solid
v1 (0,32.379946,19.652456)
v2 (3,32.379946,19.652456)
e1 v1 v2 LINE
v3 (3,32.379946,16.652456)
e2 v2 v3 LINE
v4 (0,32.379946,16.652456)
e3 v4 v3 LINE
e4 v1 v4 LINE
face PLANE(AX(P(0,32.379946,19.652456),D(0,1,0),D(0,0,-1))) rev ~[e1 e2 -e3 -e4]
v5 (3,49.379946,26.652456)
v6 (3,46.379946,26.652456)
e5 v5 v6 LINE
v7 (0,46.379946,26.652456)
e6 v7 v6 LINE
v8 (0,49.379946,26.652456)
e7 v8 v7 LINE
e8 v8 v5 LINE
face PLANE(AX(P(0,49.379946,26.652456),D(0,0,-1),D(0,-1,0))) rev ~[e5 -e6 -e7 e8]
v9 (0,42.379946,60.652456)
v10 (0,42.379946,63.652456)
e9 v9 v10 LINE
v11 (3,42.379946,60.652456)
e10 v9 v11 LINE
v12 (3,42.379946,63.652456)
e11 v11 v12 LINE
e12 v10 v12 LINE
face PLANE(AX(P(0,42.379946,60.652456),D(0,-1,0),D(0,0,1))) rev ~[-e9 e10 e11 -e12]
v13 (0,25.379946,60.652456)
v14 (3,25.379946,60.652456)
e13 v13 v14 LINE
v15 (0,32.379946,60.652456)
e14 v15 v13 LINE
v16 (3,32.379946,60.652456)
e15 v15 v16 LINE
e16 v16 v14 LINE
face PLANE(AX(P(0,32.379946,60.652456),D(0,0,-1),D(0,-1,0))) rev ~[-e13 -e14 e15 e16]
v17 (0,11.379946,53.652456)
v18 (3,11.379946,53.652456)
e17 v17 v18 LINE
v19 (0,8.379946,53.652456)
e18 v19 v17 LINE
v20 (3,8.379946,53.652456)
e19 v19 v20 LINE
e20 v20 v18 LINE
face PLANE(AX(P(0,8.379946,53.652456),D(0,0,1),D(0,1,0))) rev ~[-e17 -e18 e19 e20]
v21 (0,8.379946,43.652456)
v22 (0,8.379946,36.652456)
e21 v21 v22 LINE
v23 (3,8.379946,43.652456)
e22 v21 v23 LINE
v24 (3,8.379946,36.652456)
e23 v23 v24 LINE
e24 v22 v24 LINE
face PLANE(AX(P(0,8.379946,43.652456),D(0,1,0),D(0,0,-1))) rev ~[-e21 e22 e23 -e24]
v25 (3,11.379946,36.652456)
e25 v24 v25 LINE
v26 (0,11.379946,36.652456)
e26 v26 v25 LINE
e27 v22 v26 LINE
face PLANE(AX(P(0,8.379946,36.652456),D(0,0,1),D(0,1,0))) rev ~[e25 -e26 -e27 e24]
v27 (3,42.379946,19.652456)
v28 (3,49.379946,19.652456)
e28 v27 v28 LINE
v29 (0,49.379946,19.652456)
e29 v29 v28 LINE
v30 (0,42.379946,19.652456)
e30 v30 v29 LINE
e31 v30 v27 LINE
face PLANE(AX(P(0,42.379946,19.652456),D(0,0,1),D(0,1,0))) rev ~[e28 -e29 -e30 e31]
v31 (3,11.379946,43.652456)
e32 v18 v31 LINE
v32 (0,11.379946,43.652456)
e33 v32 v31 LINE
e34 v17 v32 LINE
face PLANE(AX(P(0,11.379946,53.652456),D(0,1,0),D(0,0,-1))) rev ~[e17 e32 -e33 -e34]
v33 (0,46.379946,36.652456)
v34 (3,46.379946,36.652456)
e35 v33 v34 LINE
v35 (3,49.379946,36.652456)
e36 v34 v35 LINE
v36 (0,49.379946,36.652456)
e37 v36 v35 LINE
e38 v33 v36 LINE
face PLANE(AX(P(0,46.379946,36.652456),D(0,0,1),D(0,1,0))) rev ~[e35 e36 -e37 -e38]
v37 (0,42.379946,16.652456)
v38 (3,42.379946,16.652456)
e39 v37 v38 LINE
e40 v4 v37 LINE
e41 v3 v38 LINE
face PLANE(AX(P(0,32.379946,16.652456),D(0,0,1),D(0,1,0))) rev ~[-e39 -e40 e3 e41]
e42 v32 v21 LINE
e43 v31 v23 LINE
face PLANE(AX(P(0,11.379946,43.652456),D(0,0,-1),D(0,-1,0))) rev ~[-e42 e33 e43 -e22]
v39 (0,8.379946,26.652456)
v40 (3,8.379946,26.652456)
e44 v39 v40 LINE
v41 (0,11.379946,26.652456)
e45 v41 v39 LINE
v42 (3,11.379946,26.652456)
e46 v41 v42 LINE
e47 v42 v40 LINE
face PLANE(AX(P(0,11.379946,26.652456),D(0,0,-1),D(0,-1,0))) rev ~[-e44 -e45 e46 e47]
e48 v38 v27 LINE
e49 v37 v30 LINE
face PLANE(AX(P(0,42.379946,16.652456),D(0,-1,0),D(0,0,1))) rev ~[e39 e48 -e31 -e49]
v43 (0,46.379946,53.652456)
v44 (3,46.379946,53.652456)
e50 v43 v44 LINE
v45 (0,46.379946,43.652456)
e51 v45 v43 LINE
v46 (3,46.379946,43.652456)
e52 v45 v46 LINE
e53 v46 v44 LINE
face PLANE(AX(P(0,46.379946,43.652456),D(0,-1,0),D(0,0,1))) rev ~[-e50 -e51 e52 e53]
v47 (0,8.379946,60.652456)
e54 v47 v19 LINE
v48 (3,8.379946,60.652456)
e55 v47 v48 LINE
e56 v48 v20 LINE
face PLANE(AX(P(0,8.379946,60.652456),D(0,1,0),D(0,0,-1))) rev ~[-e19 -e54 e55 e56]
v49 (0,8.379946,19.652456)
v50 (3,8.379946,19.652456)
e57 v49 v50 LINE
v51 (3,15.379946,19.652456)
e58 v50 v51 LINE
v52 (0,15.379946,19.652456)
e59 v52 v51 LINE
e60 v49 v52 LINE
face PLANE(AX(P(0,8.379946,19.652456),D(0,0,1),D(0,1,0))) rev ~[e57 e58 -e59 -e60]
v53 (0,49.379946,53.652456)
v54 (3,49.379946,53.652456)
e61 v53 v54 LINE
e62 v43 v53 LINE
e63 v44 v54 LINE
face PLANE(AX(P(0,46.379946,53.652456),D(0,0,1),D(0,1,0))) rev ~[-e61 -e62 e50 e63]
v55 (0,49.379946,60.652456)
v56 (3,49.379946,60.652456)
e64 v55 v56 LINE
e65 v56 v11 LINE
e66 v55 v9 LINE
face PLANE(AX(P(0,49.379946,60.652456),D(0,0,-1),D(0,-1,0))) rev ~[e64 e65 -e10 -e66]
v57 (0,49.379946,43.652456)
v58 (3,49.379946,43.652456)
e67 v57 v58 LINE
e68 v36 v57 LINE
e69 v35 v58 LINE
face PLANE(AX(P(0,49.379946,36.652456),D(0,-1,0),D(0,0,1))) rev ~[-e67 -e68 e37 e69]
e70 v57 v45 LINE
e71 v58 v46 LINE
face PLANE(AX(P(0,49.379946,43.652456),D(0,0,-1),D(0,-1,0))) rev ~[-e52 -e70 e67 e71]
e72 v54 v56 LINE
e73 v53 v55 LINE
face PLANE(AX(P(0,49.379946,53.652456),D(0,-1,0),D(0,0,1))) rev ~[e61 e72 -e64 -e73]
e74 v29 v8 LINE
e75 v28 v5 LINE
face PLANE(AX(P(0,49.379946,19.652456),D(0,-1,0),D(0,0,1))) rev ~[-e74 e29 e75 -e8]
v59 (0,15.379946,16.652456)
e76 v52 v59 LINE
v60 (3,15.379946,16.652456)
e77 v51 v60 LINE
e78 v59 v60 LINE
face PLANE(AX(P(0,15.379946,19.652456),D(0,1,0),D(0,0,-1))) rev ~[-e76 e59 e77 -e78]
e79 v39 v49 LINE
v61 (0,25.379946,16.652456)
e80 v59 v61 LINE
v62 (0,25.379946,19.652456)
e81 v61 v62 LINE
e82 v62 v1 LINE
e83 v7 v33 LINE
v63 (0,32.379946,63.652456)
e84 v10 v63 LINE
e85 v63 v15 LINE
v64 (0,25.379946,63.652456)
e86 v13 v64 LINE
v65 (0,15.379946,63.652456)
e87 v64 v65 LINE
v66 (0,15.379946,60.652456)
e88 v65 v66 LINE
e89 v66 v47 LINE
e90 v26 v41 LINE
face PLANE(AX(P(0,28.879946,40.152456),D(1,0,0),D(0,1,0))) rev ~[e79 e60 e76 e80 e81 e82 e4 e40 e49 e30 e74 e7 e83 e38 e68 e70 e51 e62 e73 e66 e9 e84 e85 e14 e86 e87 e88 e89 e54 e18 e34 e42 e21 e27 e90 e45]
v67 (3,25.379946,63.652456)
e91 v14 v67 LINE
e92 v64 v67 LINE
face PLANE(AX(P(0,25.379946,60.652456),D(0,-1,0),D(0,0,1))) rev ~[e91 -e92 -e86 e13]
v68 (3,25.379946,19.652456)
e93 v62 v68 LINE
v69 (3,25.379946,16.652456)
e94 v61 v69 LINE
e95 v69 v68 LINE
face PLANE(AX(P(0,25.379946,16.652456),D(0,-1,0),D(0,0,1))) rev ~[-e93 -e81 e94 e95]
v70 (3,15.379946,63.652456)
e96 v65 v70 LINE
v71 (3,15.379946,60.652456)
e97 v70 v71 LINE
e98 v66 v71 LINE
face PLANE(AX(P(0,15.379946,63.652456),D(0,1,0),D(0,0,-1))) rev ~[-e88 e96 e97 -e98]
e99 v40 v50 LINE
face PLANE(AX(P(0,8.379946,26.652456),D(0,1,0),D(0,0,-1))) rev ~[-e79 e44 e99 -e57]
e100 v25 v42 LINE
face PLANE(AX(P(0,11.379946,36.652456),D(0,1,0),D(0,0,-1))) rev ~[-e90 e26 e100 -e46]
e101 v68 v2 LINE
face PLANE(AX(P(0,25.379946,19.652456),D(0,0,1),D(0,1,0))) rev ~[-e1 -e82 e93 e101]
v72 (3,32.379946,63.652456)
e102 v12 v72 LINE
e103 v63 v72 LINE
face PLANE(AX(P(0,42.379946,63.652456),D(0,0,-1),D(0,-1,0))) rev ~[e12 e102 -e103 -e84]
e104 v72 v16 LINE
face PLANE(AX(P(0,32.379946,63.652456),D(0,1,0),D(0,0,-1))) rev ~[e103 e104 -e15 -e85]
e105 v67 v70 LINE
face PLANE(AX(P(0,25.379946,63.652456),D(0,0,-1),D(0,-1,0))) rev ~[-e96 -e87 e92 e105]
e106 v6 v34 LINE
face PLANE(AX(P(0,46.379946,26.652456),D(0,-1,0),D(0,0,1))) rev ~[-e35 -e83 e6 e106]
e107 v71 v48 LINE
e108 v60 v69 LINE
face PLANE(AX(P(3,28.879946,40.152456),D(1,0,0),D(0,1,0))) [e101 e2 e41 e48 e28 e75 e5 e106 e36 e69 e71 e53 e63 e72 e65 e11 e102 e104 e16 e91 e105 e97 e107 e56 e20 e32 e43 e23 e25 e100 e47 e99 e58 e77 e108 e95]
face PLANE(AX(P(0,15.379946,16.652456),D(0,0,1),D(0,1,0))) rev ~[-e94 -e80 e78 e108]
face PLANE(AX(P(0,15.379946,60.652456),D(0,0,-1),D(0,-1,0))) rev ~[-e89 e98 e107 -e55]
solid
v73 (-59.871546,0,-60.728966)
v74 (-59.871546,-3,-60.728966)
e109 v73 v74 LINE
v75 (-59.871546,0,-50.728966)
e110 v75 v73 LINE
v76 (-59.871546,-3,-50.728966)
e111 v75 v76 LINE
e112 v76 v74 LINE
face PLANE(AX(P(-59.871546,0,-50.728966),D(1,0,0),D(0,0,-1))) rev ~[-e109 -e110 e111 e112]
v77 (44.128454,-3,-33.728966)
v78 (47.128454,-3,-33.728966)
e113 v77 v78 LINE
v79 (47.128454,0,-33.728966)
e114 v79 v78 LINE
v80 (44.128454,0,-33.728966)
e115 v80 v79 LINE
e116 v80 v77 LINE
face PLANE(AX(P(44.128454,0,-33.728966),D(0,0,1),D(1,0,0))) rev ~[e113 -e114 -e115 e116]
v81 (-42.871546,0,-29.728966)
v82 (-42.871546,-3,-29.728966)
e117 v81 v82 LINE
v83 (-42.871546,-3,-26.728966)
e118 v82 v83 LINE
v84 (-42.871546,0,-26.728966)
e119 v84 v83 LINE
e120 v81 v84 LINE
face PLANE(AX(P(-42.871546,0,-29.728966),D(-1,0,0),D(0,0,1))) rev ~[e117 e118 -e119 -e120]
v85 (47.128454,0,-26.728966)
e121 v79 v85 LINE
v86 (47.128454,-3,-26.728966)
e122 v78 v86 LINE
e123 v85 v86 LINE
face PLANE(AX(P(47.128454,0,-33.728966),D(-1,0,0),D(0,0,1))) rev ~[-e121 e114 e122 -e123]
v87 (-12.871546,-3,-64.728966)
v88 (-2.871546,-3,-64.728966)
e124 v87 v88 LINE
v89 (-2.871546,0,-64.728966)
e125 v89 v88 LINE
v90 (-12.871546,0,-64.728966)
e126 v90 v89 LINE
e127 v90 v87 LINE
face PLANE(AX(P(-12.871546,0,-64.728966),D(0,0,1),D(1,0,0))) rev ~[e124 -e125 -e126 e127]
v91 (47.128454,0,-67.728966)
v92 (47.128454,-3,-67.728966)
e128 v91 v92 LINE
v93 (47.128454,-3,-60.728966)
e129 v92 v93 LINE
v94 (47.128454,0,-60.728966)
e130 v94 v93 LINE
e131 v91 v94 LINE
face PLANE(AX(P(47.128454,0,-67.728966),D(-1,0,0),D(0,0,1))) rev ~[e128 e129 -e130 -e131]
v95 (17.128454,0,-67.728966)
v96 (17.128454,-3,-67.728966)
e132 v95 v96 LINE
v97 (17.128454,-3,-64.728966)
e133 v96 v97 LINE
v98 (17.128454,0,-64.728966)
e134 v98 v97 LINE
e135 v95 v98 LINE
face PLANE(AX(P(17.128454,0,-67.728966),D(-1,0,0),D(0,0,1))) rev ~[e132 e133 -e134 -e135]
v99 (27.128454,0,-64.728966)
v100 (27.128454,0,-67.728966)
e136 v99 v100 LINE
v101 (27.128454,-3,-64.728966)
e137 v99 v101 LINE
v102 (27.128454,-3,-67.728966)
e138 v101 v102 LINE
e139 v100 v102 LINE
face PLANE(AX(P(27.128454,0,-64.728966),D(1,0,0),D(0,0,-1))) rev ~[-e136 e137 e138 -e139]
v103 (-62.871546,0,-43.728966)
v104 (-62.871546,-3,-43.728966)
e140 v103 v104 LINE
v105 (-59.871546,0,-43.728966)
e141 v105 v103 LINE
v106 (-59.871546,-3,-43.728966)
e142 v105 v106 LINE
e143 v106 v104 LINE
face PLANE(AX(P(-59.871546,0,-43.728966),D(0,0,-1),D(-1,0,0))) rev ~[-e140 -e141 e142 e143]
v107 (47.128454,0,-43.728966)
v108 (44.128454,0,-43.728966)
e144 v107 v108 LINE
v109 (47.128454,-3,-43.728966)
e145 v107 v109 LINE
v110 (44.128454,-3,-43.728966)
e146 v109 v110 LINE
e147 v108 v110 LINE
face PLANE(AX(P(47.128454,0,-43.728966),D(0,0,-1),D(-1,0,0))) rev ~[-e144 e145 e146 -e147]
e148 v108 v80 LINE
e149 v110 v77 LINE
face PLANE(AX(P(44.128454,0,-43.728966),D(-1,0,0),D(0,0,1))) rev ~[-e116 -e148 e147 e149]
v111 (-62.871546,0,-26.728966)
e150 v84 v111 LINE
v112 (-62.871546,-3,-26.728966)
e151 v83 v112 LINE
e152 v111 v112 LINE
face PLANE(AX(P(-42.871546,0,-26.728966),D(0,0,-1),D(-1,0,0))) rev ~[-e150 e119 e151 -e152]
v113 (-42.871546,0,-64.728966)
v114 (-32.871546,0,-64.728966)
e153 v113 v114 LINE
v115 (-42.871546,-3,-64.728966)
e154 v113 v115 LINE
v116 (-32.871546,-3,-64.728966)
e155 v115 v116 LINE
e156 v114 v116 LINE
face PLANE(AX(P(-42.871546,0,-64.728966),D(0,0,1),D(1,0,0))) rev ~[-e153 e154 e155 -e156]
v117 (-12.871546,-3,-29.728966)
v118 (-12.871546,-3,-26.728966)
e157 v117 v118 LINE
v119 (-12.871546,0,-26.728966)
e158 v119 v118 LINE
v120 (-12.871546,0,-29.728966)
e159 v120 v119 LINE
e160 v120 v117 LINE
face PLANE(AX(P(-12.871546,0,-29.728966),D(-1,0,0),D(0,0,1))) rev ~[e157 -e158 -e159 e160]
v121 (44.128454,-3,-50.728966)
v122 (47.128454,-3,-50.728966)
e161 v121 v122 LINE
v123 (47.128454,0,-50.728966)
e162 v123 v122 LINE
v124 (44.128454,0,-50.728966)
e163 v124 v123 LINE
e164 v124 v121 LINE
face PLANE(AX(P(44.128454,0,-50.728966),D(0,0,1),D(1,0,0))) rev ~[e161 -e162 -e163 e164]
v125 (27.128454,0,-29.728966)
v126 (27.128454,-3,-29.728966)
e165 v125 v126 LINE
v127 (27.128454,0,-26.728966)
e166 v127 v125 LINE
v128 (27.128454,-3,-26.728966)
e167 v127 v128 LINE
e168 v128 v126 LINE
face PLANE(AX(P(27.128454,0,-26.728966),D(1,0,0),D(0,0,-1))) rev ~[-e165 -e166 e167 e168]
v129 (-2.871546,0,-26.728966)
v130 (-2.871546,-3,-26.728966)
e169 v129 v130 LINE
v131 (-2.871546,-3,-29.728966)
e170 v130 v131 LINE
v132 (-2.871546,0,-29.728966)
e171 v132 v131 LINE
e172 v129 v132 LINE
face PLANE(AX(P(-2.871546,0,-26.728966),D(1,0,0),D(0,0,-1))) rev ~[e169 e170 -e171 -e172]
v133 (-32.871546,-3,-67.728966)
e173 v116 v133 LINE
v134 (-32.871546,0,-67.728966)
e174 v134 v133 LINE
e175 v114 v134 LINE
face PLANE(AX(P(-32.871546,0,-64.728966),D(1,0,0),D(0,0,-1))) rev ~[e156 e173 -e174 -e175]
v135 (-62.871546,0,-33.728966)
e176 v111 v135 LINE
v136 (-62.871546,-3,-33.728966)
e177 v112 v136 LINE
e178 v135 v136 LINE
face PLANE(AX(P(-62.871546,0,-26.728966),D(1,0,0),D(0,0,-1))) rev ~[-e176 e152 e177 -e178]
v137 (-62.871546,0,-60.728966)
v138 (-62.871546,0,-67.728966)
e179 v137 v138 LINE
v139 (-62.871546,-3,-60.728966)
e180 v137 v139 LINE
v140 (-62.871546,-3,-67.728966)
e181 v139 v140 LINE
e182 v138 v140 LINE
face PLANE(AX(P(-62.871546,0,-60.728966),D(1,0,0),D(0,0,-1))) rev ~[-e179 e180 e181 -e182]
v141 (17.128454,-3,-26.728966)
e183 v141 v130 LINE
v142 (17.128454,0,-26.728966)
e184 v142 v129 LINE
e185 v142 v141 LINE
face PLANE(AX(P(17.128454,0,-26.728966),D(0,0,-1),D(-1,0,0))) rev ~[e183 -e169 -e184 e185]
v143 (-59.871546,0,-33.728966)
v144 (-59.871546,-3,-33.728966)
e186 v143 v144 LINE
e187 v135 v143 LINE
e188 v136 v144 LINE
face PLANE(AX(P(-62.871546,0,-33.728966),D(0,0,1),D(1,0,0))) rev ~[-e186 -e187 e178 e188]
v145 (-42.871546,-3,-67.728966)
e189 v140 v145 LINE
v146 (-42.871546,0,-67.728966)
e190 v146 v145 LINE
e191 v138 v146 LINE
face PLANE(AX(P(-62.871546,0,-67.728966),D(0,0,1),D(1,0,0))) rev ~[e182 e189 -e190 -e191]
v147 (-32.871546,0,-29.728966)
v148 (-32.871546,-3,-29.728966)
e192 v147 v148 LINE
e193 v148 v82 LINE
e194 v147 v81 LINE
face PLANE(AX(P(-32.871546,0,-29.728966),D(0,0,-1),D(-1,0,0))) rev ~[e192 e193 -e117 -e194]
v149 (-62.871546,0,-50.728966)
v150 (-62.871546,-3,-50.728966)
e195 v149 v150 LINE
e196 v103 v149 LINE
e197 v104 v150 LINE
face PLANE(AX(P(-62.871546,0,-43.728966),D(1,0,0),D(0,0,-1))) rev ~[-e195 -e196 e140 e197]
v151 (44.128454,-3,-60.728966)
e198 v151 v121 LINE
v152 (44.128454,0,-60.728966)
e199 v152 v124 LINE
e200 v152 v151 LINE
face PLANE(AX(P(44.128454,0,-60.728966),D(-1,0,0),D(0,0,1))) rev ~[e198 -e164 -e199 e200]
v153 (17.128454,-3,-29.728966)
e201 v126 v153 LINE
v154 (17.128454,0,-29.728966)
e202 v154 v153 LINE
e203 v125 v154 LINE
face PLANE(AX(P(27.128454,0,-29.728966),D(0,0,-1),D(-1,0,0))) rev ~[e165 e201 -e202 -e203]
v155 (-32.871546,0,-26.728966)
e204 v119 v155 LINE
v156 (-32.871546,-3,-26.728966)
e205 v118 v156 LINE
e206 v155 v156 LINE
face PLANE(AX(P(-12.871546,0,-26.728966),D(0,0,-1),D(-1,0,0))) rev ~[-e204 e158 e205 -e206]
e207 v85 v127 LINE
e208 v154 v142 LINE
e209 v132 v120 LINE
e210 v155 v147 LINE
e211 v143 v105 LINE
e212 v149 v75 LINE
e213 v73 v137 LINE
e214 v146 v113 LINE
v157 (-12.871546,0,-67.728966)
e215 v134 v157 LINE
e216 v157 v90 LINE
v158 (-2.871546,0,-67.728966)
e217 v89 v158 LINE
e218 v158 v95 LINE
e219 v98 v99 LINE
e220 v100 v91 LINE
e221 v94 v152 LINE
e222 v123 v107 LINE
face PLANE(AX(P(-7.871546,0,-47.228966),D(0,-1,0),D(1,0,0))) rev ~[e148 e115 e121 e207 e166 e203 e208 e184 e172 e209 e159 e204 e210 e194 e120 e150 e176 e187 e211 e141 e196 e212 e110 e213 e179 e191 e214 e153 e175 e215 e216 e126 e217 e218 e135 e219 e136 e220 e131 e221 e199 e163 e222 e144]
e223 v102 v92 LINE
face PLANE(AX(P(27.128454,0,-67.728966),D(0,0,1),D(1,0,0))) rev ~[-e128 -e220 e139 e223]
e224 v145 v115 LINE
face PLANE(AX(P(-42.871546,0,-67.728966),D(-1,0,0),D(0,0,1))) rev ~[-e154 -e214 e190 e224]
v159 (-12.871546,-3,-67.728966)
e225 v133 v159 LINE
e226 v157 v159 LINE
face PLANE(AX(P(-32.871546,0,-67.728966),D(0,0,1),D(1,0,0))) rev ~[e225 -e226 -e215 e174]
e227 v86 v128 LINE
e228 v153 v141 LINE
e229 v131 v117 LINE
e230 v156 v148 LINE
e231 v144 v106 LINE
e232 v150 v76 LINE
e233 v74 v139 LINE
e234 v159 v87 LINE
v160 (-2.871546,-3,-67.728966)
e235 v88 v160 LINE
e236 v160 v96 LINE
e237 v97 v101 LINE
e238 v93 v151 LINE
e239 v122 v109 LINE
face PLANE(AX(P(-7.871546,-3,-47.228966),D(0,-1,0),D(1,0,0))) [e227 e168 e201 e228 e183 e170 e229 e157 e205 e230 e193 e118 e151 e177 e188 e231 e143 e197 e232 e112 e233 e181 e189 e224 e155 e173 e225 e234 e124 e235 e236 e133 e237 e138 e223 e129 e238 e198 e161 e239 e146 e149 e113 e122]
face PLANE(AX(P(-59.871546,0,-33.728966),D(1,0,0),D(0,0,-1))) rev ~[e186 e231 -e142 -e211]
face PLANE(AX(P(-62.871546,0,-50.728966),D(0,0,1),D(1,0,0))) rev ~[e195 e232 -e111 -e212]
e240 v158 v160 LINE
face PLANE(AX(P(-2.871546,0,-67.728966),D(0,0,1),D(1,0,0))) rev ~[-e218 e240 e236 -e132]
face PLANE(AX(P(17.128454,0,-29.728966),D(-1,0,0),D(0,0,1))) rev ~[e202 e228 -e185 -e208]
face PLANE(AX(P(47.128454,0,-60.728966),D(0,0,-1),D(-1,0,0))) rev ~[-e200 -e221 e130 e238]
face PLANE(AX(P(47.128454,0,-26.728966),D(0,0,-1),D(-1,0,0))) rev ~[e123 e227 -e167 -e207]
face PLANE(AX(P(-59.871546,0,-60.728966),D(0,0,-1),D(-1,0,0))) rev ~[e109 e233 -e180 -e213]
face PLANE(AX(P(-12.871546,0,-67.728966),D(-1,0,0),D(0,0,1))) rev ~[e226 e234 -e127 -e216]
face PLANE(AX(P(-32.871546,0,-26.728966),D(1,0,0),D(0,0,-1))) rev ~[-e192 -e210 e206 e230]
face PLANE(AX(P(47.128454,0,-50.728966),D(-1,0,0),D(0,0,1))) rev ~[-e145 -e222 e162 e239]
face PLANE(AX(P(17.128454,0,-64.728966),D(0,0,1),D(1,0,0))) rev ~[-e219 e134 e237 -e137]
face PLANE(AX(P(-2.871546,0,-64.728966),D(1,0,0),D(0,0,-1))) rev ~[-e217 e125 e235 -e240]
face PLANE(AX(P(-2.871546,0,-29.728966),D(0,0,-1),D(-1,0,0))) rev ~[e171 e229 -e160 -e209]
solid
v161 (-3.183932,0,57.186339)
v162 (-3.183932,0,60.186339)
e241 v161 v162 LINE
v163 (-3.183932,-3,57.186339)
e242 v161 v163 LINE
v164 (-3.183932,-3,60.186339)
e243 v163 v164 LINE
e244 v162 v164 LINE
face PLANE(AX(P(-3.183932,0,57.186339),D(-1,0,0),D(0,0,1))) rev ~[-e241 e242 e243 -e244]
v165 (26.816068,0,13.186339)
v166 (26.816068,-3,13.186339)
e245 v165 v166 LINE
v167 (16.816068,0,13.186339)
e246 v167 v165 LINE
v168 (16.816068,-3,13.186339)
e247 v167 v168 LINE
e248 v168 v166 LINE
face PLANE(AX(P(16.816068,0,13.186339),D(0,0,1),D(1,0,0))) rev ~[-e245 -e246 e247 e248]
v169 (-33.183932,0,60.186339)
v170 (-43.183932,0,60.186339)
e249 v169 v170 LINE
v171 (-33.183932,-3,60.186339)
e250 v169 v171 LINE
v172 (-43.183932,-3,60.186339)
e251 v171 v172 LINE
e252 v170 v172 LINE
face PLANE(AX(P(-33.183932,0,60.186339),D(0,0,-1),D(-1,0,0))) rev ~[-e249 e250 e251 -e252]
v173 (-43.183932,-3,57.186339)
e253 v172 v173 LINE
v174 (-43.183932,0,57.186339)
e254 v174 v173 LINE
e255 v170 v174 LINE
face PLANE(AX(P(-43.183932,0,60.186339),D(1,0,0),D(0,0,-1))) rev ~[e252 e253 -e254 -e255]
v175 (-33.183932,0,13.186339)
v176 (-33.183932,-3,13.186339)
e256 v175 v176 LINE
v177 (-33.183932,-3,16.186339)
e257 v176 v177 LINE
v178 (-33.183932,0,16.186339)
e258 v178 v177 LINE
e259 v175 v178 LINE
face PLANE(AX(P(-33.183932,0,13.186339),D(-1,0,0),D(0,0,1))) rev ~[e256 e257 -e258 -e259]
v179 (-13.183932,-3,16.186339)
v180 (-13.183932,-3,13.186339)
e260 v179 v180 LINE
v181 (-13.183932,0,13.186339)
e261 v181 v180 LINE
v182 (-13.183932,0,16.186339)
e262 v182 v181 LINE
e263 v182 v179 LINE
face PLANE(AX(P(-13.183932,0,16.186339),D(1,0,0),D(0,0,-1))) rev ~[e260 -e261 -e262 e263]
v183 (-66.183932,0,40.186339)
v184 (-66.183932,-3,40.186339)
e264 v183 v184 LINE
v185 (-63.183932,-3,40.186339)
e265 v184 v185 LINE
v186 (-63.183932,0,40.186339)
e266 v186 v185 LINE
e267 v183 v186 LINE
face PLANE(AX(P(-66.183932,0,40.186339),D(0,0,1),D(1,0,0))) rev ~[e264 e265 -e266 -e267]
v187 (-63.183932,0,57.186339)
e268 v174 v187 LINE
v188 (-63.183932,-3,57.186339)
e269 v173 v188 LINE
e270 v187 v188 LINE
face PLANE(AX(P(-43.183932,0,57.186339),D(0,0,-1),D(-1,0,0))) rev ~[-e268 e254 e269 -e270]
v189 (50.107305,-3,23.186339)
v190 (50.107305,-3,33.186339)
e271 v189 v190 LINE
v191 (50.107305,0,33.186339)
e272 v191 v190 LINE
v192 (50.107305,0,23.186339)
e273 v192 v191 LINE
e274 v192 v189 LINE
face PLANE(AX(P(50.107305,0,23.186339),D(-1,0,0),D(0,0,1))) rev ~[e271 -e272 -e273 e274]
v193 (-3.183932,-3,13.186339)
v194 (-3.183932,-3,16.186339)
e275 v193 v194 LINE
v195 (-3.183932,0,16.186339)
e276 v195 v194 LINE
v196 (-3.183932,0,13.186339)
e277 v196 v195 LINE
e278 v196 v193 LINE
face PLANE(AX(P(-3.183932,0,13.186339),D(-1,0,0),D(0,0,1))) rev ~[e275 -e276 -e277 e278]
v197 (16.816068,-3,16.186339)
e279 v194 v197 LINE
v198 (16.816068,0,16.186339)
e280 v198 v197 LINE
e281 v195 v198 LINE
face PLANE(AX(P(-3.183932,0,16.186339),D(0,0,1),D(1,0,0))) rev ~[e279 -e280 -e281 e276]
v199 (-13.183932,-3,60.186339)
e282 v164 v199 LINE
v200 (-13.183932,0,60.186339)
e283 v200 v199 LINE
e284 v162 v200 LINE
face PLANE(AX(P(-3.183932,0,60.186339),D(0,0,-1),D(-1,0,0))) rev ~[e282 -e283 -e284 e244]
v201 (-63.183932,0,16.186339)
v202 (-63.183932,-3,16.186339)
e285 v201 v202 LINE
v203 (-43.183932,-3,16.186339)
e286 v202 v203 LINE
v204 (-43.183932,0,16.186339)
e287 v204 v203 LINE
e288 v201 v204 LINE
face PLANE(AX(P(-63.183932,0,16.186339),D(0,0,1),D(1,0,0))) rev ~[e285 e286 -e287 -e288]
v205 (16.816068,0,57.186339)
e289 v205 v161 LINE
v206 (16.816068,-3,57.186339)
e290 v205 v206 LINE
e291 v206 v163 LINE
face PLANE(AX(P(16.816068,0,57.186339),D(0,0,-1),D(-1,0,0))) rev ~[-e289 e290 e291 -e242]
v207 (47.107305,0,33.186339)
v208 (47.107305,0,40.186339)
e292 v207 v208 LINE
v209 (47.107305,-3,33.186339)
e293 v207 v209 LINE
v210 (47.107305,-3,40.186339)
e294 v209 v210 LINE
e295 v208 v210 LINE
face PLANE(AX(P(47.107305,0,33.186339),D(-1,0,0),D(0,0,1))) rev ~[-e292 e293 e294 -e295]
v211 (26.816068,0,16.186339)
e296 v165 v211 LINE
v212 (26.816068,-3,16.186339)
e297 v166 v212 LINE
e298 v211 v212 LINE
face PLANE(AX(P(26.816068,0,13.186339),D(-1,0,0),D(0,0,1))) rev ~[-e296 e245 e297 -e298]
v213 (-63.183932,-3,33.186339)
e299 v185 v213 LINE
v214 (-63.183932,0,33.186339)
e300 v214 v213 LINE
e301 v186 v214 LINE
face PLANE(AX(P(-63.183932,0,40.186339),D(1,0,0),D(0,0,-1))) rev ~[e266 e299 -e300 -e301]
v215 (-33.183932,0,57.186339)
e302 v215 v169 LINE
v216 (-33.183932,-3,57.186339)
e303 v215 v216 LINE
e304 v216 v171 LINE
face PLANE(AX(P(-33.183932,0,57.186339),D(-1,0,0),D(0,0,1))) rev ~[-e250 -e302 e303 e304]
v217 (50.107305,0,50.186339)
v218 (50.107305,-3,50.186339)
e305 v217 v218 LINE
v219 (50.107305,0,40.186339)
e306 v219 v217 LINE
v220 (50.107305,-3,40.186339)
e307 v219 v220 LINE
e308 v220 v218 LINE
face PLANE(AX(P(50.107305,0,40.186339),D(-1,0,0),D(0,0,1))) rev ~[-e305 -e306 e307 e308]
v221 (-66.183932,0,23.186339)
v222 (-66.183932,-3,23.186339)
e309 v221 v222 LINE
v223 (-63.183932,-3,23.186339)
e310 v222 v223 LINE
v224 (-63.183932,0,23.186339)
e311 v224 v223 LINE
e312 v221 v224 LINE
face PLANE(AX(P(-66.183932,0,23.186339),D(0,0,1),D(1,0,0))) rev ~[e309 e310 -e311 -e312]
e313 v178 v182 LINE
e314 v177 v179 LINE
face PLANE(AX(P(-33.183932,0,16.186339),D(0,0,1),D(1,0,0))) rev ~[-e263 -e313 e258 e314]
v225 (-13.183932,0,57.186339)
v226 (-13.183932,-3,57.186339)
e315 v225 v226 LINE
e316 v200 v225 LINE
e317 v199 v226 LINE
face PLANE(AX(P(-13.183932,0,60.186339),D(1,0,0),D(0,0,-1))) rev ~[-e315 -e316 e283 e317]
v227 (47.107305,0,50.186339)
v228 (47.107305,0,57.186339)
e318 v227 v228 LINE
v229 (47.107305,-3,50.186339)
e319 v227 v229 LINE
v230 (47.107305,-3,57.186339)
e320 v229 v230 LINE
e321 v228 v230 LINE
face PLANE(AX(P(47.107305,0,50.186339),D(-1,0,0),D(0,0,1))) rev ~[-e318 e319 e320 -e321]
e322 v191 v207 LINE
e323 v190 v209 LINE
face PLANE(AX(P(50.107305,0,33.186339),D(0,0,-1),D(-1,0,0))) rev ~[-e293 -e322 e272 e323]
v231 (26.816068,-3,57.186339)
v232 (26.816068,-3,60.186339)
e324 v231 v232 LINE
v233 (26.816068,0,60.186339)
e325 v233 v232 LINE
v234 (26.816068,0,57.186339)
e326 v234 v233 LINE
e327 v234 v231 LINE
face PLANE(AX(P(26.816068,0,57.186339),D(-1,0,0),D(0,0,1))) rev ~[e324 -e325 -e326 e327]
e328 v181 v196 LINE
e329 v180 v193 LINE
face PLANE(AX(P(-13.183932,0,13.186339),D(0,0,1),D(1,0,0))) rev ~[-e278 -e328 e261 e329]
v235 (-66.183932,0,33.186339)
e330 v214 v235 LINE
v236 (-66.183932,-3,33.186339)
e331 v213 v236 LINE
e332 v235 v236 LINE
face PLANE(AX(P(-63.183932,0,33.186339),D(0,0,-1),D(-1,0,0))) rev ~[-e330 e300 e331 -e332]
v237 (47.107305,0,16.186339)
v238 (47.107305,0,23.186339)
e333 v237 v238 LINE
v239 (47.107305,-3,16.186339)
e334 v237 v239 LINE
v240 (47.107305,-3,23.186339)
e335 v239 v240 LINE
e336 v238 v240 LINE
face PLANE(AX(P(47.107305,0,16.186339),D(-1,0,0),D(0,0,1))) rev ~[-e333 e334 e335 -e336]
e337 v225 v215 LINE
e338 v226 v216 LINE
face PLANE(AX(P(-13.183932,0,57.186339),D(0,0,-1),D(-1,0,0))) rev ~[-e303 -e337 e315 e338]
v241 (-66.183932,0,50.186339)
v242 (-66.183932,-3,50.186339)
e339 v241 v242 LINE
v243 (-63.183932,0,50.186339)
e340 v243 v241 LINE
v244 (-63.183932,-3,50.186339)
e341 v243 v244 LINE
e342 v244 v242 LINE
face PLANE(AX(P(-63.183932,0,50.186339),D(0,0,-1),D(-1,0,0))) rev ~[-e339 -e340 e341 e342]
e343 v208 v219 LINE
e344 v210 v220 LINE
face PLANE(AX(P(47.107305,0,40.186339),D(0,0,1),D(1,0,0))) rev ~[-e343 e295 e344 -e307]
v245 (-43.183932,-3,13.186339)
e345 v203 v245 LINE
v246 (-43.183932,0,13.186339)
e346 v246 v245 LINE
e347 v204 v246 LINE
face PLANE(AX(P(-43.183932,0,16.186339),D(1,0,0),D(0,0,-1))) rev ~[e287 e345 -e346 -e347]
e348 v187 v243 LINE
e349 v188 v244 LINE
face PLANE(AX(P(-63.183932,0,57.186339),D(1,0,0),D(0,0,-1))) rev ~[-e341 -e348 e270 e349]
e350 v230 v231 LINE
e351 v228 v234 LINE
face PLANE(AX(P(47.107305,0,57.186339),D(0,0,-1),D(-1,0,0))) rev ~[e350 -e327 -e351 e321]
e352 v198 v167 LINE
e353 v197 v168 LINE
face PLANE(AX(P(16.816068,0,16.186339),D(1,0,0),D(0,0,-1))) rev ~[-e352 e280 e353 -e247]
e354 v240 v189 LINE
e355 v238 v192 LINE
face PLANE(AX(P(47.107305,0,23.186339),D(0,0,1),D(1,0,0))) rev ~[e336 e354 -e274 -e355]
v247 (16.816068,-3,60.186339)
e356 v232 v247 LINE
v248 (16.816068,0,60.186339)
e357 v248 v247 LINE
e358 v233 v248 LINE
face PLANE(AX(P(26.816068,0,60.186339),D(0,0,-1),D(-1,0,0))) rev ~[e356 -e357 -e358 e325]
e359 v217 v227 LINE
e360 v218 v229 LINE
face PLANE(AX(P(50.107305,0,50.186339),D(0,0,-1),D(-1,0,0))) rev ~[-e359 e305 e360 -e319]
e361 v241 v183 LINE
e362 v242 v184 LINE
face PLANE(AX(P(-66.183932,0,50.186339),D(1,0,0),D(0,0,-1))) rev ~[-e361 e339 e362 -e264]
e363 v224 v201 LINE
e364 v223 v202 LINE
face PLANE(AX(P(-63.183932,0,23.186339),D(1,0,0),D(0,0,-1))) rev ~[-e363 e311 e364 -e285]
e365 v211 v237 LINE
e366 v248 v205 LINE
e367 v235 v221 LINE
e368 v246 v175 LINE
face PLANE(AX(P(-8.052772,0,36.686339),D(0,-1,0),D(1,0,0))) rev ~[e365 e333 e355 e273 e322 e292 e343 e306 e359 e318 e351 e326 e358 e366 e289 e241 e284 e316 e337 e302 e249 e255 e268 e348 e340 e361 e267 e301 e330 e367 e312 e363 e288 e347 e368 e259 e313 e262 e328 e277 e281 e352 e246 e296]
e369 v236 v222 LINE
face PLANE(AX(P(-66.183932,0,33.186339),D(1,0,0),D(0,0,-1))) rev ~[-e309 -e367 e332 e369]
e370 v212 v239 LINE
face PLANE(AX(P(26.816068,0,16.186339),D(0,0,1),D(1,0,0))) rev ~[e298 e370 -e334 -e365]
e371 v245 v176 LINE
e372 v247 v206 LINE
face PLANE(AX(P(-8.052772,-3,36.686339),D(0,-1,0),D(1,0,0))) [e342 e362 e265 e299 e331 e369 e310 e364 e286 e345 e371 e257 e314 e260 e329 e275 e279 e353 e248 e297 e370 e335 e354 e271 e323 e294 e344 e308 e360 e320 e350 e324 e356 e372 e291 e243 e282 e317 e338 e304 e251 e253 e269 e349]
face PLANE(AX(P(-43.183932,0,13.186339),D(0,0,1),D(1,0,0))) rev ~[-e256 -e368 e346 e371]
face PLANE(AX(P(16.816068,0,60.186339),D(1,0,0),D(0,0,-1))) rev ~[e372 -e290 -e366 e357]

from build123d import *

# Parameters (mm, degrees)
F1_DEPTH = 3
F3_DEPTH = 3


with BuildPart() as f1:
    # F0 (on Front) → F1 (new body)
    with BuildSketch(Plane.XZ):
        Polygon((-62.871546, -60.728966), (-62.871546, -67.728966), (-42.871546, -67.728966), (-42.871546, -64.728966), (-32.871546, -64.728966), (-32.871546, -67.728966), (-12.871546, -67.728966), (-12.871546, -64.728966), (-2.871546, -64.728966), (-2.871546, -67.728966), (17.128454, -67.728966), (17.128454, -64.728966), (27.128454, -64.728966), (27.128454, -67.728966), (47.128454, -67.728966), (47.128454, -60.728966), (44.128454, -60.728966), (44.128454, -50.728966), (47.128454, -50.728966), (47.128454, -43.728966), (44.128454, -43.728966), (44.128454, -33.728966), (47.128454, -33.728966), (47.128454, -26.728966), (27.128454, -26.728966), (27.128454, -29.728966), (17.128454, -29.728966), (17.128454, -26.728966), (-2.871546, -26.728966), (-2.871546, -29.728966), (-12.871546, -29.728966), (-12.871546, -26.728966), (-32.871546, -26.728966), (-32.871546, -29.728966), (-42.871546, -29.728966), (-42.871546, -26.728966), (-62.871546, -26.728966), (-62.871546, -33.728966), (-59.871546, -33.728966), (-59.871546, -43.728966), (-62.871546, -43.728966), (-62.871546, -50.728966), (-59.871546, -50.728966), (-59.871546, -60.728966), align=None)
        Polygon((-43.183932, 57.186339), (-63.183932, 57.186339), (-63.183932, 50.186339), (-66.183932, 50.186339), (-66.183932, 40.186339), (-63.183932, 40.186339), (-63.183932, 33.186339), (-66.183932, 33.186339), (-66.183932, 23.186339), (-63.183932, 23.186339), (-63.183932, 16.186339), (-43.183932, 16.186339), (-43.183932, 13.186339), (-33.183932, 13.186339), (-33.183932, 16.186339), (-13.183932, 16.186339), (-13.183932, 13.186339), (-3.183932, 13.186339), (-3.183932, 16.186339), (16.816068, 16.186339), (16.816068, 13.186339), (26.816068, 13.186339), (26.816068, 16.186339), (47.107305, 16.186339), (47.107305, 23.186339), (50.107305, 23.186339), (50.107305, 33.186339), (47.107305, 33.186339), (47.107305, 40.186339), (50.107305, 40.186339), (50.107305, 50.186339), (47.107305, 50.186339), (47.107305, 57.186339), (26.816068, 57.186339), (26.816068, 60.186339), (16.816068, 60.186339), (16.816068, 57.186339), (-3.183932, 57.186339), (-3.183932, 60.186339), (-13.183932, 60.186339), (-13.183932, 57.186339), (-33.183932, 57.186339), (-33.183932, 60.186339), (-43.183932, 60.186339), align=None)
    extrude(amount=F1_DEPTH)


with BuildPart() as f3:
    # F2 (on Right) → F3 (new body)
    with BuildSketch(Plane.YZ):
        Polygon((42.379946, 19.652456), (49.379946, 19.652456), (49.379946, 26.652456), (46.379946, 26.652456), (46.379946, 36.652456), (49.379946, 36.652456), (49.379946, 43.652456), (46.379946, 43.652456), (46.379946, 53.652456), (49.379946, 53.652456), (49.379946, 60.652456), (42.379946, 60.652456), (42.379946, 63.652456), (32.379946, 63.652456), (32.379946, 60.652456), (25.379946, 60.652456), (25.379946, 63.652456), (15.379946, 63.652456), (15.379946, 60.652456), (8.379946, 60.652456), (8.379946, 53.652456), (11.379946, 53.652456), (11.379946, 43.652456), (8.379946, 43.652456), (8.379946, 36.652456), (11.379946, 36.652456), (11.379946, 26.652456), (8.379946, 26.652456), (8.379946, 19.652456), (15.379946, 19.652456), (15.379946, 16.652456), (25.379946, 16.652456), (25.379946, 19.652456), (32.379946, 19.652456), (32.379946, 16.652456), (42.379946, 16.652456), align=None)
    extrude(amount=F3_DEPTH)


solid = Compound([f1.part, f3.part])
